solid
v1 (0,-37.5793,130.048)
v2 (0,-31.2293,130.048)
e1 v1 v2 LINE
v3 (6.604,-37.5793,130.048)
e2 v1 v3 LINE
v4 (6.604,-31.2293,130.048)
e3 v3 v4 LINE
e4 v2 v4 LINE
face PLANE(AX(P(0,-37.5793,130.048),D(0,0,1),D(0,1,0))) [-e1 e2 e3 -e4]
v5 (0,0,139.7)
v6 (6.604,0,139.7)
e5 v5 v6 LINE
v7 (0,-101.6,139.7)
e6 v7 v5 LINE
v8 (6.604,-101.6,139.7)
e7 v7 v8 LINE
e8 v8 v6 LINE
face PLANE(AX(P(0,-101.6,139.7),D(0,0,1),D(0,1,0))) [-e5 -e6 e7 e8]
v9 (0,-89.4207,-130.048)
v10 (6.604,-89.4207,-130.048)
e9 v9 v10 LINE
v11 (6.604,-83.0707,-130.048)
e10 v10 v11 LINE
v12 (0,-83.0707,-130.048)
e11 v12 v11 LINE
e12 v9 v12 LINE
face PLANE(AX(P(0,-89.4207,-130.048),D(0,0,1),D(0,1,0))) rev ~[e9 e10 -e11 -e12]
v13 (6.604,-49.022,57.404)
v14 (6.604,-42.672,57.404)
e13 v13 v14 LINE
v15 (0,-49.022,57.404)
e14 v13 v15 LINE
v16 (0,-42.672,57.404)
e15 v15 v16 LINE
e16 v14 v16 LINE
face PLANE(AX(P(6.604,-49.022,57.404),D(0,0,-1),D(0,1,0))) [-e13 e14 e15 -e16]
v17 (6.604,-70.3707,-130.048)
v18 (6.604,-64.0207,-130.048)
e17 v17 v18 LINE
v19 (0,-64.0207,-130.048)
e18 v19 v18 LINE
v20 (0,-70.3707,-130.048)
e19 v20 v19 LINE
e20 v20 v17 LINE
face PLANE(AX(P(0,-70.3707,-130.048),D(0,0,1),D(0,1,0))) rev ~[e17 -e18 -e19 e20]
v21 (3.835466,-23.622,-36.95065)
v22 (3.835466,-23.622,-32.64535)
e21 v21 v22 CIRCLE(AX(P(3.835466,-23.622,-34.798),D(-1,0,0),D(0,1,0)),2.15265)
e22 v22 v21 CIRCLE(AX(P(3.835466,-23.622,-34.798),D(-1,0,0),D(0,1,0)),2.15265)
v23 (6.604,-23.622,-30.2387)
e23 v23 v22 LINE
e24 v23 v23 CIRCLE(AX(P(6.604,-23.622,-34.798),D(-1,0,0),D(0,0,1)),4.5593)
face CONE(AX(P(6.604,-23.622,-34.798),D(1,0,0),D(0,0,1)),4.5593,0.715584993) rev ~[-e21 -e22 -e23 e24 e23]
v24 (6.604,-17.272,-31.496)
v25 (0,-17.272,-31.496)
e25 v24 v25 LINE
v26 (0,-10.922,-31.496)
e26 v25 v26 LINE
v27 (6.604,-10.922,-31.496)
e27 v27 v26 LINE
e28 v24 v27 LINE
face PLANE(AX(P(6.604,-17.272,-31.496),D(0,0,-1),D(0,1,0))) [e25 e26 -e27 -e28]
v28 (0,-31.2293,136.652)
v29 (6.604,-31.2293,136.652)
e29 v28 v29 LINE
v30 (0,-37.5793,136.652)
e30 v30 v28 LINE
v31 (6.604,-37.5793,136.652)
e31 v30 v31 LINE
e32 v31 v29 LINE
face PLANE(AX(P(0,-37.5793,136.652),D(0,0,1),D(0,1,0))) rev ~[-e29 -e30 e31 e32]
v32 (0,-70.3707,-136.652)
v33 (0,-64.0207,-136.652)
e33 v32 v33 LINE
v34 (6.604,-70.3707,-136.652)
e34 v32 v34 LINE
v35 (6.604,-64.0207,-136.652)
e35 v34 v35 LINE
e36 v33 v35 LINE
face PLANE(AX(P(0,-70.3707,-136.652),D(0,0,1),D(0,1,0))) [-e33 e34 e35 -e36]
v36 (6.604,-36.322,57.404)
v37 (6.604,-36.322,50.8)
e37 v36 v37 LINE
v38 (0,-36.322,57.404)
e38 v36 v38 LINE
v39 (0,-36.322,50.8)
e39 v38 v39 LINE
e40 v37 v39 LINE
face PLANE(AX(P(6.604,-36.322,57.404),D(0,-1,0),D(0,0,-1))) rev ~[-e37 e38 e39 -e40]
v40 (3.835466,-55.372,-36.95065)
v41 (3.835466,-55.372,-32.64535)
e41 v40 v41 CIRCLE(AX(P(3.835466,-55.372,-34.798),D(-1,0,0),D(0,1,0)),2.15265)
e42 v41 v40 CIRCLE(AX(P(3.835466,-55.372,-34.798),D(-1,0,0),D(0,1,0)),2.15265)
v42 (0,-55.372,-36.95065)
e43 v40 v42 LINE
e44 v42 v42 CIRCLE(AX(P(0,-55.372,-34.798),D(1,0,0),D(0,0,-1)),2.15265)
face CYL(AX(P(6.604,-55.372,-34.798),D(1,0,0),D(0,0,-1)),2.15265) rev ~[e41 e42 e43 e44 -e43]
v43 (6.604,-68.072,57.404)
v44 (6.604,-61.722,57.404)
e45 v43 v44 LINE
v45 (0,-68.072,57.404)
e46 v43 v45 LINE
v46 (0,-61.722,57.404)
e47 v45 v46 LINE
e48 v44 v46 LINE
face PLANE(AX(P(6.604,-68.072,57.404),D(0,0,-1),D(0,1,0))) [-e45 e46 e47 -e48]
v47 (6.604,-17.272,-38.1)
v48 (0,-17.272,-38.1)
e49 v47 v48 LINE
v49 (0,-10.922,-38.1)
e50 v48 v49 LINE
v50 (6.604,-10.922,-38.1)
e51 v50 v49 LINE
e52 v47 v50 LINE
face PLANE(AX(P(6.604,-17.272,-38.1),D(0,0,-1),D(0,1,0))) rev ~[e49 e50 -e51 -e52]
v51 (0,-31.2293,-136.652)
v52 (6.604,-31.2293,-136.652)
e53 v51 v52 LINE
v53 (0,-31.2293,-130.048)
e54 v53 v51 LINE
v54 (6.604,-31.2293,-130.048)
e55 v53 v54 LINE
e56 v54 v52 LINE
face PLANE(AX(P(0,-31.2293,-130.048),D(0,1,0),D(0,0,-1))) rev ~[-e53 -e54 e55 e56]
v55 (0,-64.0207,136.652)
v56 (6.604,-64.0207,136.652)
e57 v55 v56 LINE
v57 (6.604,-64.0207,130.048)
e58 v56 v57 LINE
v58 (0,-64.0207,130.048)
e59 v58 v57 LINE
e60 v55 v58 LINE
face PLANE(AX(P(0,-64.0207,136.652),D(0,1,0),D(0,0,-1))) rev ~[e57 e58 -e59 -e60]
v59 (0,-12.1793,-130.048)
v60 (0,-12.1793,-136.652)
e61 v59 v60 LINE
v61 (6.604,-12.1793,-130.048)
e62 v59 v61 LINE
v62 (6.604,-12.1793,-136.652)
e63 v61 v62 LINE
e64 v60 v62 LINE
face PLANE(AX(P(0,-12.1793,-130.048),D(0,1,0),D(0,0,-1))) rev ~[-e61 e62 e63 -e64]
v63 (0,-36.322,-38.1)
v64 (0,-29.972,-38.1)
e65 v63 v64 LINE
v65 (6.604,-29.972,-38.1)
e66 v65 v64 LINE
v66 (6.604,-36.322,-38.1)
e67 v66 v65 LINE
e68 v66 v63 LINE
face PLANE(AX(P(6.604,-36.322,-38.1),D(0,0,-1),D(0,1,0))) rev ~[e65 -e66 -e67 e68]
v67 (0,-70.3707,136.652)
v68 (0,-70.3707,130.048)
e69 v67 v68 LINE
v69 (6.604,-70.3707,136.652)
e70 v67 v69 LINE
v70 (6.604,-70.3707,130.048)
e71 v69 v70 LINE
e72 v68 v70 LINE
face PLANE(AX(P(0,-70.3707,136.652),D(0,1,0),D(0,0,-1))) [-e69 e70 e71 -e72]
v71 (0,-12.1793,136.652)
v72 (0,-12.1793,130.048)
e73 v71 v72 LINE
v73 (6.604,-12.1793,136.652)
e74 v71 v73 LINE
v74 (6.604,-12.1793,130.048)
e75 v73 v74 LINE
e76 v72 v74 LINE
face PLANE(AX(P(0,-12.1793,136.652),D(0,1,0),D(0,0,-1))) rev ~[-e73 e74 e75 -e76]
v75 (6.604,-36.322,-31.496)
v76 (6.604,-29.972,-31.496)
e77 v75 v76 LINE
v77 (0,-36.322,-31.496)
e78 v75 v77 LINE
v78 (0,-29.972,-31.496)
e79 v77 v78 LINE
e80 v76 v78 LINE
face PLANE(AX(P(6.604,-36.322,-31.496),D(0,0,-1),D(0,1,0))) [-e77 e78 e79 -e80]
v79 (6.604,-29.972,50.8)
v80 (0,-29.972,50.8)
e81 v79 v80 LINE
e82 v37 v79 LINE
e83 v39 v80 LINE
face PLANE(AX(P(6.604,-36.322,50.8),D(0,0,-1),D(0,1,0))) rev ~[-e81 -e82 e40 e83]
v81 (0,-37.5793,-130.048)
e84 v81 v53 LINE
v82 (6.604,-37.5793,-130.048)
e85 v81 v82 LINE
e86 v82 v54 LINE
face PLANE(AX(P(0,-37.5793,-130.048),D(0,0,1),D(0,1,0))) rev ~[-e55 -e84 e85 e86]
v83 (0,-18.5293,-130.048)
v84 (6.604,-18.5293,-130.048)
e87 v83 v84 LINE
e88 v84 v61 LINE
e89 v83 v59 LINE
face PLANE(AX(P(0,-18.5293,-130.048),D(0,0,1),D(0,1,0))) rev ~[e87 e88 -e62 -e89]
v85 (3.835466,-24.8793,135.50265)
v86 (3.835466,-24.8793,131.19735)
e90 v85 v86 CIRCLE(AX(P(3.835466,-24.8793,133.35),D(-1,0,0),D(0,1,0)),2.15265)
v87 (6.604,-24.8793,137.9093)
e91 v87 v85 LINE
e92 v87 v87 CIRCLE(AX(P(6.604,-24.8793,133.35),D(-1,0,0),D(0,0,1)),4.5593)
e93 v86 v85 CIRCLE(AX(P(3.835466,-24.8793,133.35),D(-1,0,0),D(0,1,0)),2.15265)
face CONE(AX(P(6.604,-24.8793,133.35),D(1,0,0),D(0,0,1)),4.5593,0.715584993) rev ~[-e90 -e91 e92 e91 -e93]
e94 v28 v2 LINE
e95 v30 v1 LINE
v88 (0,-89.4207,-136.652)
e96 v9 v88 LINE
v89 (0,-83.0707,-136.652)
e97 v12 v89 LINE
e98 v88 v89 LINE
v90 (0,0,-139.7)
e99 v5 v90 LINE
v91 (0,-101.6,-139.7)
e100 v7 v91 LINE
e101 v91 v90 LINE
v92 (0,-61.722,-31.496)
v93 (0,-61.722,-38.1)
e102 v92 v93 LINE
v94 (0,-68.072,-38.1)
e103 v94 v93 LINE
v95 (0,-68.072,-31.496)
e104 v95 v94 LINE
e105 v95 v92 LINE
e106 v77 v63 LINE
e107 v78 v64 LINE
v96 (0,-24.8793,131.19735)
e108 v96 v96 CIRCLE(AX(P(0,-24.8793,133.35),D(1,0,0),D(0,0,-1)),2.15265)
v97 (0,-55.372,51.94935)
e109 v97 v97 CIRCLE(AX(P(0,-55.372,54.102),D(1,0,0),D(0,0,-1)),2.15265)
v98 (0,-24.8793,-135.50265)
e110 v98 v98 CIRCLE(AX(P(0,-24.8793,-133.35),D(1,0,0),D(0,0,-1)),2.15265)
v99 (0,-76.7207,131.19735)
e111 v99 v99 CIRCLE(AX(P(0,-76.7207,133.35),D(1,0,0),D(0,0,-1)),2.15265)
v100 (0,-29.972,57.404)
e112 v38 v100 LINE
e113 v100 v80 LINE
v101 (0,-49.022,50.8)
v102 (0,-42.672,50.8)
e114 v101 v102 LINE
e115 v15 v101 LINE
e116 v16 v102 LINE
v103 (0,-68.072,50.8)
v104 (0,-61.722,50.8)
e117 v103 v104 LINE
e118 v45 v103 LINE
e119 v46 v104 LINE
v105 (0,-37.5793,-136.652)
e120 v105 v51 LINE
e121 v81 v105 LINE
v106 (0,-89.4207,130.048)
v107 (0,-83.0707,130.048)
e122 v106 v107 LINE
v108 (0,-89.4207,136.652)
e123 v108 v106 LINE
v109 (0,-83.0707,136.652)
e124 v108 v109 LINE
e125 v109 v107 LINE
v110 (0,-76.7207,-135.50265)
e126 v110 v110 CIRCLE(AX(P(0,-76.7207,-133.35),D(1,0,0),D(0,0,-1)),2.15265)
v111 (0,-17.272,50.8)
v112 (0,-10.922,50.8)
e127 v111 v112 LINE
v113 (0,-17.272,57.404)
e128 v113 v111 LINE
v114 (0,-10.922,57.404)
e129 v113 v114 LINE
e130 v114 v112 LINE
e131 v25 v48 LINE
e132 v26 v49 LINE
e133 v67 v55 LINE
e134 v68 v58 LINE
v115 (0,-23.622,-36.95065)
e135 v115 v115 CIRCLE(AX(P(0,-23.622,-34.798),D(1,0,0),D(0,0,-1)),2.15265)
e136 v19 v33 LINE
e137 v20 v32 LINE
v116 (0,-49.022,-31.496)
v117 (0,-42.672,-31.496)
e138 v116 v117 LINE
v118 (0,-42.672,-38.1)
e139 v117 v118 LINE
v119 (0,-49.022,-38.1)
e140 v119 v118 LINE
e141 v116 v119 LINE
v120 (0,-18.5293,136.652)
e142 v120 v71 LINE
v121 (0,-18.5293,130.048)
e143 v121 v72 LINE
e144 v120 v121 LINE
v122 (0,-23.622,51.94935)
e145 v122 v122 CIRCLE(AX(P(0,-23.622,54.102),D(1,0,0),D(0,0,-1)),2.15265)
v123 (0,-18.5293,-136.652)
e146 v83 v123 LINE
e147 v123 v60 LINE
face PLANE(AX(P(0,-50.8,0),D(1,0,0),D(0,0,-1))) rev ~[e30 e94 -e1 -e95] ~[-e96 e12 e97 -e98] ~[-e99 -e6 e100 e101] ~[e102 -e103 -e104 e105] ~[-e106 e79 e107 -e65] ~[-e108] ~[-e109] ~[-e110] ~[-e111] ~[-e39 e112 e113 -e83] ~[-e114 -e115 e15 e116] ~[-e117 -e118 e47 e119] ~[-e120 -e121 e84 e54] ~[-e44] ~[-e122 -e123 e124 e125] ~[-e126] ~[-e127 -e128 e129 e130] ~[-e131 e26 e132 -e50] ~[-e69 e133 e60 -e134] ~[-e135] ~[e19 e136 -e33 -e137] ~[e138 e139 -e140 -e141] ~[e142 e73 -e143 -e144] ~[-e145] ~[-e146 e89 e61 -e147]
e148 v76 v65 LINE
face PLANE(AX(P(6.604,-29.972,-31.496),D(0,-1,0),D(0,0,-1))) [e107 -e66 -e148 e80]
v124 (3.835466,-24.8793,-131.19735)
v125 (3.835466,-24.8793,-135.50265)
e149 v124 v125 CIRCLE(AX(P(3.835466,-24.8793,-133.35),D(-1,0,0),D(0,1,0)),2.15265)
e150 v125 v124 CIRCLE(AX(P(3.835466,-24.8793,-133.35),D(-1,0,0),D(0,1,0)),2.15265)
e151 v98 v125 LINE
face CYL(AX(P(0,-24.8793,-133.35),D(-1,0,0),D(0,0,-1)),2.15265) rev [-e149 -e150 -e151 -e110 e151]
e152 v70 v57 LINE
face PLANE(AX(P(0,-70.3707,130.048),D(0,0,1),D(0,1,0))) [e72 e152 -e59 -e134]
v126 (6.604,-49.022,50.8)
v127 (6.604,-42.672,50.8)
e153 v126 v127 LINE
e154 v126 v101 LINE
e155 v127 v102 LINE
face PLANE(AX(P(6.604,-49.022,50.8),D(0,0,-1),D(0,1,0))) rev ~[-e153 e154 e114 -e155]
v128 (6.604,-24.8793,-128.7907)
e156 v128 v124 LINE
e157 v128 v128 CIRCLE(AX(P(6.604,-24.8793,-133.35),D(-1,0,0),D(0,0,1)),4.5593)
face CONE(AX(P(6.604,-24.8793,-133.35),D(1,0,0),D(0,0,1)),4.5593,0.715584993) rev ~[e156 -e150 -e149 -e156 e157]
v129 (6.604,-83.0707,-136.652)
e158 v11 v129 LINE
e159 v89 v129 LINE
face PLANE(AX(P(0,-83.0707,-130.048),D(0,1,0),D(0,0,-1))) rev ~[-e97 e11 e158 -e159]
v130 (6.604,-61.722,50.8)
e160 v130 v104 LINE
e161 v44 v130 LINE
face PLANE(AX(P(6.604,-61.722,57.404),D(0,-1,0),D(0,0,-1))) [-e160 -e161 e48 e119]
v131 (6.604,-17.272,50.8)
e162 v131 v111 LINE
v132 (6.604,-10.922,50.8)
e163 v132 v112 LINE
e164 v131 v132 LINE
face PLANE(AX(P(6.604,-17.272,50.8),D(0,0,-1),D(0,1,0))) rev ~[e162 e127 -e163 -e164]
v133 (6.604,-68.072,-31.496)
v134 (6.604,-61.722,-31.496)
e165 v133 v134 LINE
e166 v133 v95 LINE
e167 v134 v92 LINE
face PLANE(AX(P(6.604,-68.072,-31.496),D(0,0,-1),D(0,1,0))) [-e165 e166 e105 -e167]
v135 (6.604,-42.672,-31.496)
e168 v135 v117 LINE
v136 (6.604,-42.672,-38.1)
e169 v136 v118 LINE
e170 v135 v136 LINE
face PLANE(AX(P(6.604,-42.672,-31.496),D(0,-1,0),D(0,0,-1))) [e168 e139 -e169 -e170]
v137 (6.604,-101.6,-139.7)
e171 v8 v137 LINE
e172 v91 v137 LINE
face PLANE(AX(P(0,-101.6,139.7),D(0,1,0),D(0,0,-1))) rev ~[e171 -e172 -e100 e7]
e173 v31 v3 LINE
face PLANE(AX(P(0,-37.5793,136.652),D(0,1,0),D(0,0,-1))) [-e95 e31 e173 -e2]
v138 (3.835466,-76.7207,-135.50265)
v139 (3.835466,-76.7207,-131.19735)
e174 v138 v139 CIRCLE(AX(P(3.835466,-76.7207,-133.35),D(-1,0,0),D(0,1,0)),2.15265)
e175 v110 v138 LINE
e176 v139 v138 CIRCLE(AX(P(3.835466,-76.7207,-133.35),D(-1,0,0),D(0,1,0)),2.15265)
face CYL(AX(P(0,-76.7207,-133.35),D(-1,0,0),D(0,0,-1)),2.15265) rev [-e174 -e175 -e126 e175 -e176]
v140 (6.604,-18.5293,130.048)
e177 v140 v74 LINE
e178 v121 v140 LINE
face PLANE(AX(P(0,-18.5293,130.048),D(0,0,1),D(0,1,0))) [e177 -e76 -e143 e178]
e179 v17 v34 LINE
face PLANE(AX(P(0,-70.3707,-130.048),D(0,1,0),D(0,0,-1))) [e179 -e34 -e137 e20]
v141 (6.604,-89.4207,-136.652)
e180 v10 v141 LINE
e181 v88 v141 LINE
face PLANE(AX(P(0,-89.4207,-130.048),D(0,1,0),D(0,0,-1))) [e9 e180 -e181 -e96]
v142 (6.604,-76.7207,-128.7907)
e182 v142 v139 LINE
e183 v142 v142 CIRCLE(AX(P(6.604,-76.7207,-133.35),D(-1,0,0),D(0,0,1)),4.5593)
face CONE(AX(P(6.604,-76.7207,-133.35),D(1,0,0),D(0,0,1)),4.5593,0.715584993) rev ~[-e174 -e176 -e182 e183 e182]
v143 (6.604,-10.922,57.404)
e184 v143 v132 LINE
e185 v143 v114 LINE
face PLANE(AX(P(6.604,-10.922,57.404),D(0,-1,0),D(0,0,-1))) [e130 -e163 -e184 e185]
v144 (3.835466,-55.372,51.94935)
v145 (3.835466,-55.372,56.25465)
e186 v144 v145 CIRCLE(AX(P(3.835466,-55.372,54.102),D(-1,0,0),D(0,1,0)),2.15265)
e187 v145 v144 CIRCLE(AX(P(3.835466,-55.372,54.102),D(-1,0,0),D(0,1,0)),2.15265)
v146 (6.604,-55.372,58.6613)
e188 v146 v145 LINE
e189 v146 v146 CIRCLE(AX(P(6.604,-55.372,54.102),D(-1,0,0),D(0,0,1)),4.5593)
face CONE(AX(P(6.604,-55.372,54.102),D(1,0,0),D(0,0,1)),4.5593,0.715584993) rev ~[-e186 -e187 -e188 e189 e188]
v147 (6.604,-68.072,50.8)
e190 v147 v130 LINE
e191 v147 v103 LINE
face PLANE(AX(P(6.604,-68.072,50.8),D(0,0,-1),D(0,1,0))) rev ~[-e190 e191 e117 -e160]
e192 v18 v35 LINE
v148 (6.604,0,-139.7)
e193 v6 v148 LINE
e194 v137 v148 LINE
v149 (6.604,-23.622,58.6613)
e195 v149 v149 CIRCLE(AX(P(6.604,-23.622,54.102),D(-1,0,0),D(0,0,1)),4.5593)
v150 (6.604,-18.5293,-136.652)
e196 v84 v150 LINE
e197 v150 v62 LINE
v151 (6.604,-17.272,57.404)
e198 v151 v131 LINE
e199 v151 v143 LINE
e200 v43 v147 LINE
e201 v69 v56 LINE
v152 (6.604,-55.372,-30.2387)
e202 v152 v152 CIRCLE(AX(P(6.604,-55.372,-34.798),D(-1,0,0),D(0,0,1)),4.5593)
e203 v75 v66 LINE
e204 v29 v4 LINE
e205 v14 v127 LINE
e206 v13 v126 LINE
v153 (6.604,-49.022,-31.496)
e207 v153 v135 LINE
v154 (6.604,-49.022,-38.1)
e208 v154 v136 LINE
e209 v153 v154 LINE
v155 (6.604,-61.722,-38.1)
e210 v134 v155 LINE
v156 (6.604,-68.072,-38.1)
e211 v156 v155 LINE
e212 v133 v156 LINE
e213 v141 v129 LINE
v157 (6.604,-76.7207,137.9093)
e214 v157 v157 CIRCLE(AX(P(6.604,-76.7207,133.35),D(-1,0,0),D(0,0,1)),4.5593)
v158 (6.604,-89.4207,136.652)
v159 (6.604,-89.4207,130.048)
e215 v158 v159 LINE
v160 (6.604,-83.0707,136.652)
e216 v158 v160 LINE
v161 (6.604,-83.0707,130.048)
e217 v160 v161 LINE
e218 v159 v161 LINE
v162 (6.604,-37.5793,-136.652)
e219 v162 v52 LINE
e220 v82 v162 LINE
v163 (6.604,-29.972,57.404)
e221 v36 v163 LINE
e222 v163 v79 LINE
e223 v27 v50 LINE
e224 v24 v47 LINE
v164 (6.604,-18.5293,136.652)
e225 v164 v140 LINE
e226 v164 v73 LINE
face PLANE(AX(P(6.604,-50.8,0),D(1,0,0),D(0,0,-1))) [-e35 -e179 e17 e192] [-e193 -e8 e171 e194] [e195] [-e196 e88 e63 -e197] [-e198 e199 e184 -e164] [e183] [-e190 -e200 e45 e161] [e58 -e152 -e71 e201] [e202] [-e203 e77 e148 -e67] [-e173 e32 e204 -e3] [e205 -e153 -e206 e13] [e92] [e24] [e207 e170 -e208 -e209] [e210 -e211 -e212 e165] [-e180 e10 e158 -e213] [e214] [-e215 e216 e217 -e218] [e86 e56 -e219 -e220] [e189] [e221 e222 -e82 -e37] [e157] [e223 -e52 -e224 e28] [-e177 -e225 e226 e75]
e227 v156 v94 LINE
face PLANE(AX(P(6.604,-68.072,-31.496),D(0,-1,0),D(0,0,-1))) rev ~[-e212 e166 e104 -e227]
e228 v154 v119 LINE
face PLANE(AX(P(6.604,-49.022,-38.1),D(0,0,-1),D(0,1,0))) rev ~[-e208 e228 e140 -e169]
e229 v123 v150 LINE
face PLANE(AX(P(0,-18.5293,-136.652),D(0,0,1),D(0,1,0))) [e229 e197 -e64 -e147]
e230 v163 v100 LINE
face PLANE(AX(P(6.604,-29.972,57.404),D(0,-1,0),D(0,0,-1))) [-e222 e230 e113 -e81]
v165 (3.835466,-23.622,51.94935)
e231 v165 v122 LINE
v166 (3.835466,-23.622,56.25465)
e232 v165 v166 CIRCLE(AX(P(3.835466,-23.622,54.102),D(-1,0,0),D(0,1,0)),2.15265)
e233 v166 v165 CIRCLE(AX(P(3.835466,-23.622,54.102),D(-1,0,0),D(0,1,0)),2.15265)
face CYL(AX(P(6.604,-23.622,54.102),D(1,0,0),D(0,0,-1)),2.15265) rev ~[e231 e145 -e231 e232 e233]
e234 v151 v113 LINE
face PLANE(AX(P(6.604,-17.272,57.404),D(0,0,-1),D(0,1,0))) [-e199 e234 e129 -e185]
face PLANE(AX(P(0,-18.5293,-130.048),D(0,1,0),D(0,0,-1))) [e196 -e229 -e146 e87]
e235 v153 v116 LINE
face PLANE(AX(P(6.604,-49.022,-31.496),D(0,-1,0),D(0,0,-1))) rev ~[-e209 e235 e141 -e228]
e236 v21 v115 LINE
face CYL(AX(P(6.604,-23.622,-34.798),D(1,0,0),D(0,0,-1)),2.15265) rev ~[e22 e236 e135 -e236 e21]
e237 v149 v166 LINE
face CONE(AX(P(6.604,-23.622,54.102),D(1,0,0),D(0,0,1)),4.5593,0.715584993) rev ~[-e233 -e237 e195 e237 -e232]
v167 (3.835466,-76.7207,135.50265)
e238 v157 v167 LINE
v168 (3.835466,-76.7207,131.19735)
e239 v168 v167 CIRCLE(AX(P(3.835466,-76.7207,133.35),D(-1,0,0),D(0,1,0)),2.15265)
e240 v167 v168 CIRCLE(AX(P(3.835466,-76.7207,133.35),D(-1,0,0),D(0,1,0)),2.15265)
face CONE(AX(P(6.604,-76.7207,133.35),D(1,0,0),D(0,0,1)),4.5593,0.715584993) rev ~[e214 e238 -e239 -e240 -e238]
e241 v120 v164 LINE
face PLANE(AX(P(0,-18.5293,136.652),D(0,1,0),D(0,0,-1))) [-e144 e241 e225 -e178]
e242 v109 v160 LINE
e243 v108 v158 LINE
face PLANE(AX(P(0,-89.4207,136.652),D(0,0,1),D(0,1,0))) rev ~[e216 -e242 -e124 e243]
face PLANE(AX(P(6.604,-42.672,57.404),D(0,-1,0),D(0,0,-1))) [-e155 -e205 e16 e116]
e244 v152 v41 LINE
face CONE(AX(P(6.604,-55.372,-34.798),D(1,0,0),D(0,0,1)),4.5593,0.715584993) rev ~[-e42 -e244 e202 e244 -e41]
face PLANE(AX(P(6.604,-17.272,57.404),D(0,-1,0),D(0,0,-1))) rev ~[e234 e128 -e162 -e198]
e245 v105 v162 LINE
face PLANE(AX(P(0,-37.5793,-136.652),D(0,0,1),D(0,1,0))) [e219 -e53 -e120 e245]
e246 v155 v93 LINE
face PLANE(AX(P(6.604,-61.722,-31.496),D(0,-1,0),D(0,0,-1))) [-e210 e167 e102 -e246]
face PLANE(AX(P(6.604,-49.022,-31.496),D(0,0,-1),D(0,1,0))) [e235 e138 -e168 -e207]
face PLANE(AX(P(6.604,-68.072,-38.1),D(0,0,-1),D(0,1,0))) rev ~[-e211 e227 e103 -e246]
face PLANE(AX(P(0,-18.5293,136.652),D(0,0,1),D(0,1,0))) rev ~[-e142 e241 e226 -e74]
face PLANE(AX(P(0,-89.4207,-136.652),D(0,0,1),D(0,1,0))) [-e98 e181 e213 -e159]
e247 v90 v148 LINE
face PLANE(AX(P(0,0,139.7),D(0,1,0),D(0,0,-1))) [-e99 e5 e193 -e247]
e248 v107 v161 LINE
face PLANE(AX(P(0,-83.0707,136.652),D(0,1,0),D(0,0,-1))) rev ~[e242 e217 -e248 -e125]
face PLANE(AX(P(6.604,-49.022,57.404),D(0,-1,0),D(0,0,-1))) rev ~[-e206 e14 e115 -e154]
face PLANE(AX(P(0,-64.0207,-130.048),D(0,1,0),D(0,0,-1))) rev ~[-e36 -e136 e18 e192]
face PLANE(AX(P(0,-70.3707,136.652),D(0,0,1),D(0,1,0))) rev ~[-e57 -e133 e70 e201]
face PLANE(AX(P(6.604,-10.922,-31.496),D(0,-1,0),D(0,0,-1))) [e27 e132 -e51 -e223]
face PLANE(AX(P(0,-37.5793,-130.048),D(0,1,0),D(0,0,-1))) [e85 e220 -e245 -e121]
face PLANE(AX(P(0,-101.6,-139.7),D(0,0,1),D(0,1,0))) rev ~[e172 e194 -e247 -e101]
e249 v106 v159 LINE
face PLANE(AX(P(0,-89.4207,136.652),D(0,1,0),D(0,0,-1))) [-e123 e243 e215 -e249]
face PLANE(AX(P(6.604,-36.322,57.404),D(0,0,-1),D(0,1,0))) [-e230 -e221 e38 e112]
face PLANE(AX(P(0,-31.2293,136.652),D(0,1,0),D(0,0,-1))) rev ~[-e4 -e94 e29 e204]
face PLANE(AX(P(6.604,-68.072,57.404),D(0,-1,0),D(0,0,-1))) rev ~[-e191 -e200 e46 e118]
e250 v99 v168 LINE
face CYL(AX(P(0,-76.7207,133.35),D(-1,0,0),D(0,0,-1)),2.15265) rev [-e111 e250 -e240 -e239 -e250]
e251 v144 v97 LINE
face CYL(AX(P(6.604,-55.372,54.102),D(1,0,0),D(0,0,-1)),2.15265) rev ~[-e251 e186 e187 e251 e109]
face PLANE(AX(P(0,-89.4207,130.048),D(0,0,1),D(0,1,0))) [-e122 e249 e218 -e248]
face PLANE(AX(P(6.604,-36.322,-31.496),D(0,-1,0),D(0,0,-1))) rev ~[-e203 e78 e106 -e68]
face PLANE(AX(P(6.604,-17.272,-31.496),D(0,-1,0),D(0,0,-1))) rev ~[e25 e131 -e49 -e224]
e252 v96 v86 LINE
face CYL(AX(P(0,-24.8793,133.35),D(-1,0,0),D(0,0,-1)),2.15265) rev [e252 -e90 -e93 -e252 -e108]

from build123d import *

# Parameters (mm, degrees)
SKETCH1_W                                         = 279.4
SKETCH1_H                                         = 101.6
SKETCH1_R                                         = 2.15265
SKETCH1_W_2                                       = 6.604
SKETCH1_H_2                                       = 6.35
BOSS_EXTRUDE1_DEPTH                               = 6.604
SKETCH2_R                                         = 2.15265
SKETCH2_W                                         = 6.604
SKETCH2_H                                         = 6.35
CUT_EXTRUDE1_DEPTH                                = 7.604
CSK_FOR_8_FLAT_HEAD_SOCKET_CAP_SCREW1_D           = 4.3053
CSK_FOR_8_FLAT_HEAD_SOCKET_CAP_SCREW1_CSINK_D     = 9.1186
CSK_FOR_8_FLAT_HEAD_SOCKET_CAP_SCREW1_CSINK_ANGLE = 82


with BuildPart() as part:
    # Sketch1 → Boss-Extrude1 (new body)
    with BuildSketch(Plane(origin=(0, 0, 0), x_dir=(0, 0, -1), z_dir=(1, 0, 0))):
        with Locations((0, -50.8)):
            Rectangle(SKETCH1_W, SKETCH1_H)
        with Locations((-133.35, -24.8793)):
            Circle(SKETCH1_R, mode=Mode.SUBTRACT)
        with Locations((-133.35, -76.7207)):
            Circle(SKETCH1_R, mode=Mode.SUBTRACT)
        with Locations((133.35, -24.8793)):
            Circle(SKETCH1_R, mode=Mode.SUBTRACT)
        with Locations((133.35, -76.720700102)):
            Circle(SKETCH1_R, mode=Mode.SUBTRACT)
        with Locations((-133.35, -34.4043)):
            Rectangle(SKETCH1_W_2, SKETCH1_H_2, mode=Mode.SUBTRACT)
        with Locations((-133.35, -15.3543)):
            Rectangle(SKETCH1_W_2, SKETCH1_H_2, mode=Mode.SUBTRACT)
        with Locations((-133.35, -86.2457)):
            Rectangle(SKETCH1_W_2, SKETCH1_H_2, mode=Mode.SUBTRACT)
        with Locations((-133.35, -67.1957)):
            Rectangle(SKETCH1_W_2, SKETCH1_H_2, mode=Mode.SUBTRACT)
        with Locations((133.35, -15.3543)):
            Rectangle(SKETCH1_W_2, SKETCH1_H_2, mode=Mode.SUBTRACT)
        with Locations((133.35, -34.4043)):
            Rectangle(SKETCH1_W_2, SKETCH1_H_2, mode=Mode.SUBTRACT)
        with Locations((133.35, -67.195700102)):
            Rectangle(SKETCH1_W_2, SKETCH1_H_2, mode=Mode.SUBTRACT)
        with Locations((133.35, -86.245700102)):
            Rectangle(SKETCH1_W_2, SKETCH1_H_2, mode=Mode.SUBTRACT)
    extrude(amount=BOSS_EXTRUDE1_DEPTH)

    # Sketch2 → Cut-Extrude1 (cut, through all)
    with BuildSketch(Plane(origin=(6.604, 0, 0), x_dir=(0, 0, -1), z_dir=(1, 0, 0))):
        with Locations((-54.102, -23.622)):
            Circle(SKETCH2_R)
        with Locations((34.798, -55.372)):
            Circle(SKETCH2_R)
        with Locations((-54.102, -55.372)):
            Circle(SKETCH2_R)
        with Locations((34.798, -23.622)):
            Circle(SKETCH2_R)
        with Locations((-54.102, -14.097)):
            Rectangle(SKETCH2_W, SKETCH2_H)
        with Locations((-54.102, -33.147)):
            Rectangle(SKETCH2_W, SKETCH2_H)
        with Locations((34.798, -45.847)):
            Rectangle(SKETCH2_W, SKETCH2_H)
        with Locations((34.798, -64.897)):
            Rectangle(SKETCH2_W, SKETCH2_H)
        with Locations((-54.102, -45.847)):
            Rectangle(SKETCH2_W, SKETCH2_H)
        with Locations((-54.102, -64.897)):
            Rectangle(SKETCH2_W, SKETCH2_H)
        with Locations((34.798, -14.097)):
            Rectangle(SKETCH2_W, SKETCH2_H)
        with Locations((34.798, -33.147)):
            Rectangle(SKETCH2_W, SKETCH2_H)
    extrude(amount=-CUT_EXTRUDE1_DEPTH, mode=Mode.SUBTRACT)

    # CSK for #8 Flat Head Socket Cap Screw1 (through all)
    with Locations(Plane(origin=(6.604, 0, 0), x_dir=(0, 0, -1), z_dir=(1, 0, 0))):
        with Locations((-133.35, -24.8793), (-133.35, -76.7207), (-54.102, -55.372), (-54.102, -23.622), (34.798, -23.622), (34.798, -55.372), (133.35, -76.720700102), (133.35, -24.8793)):
            CounterSinkHole(CSK_FOR_8_FLAT_HEAD_SOCKET_CAP_SCREW1_D / 2, CSK_FOR_8_FLAT_HEAD_SOCKET_CAP_SCREW1_CSINK_D / 2, counter_sink_angle=CSK_FOR_8_FLAT_HEAD_SOCKET_CAP_SCREW1_CSINK_ANGLE)


solid = part.part
